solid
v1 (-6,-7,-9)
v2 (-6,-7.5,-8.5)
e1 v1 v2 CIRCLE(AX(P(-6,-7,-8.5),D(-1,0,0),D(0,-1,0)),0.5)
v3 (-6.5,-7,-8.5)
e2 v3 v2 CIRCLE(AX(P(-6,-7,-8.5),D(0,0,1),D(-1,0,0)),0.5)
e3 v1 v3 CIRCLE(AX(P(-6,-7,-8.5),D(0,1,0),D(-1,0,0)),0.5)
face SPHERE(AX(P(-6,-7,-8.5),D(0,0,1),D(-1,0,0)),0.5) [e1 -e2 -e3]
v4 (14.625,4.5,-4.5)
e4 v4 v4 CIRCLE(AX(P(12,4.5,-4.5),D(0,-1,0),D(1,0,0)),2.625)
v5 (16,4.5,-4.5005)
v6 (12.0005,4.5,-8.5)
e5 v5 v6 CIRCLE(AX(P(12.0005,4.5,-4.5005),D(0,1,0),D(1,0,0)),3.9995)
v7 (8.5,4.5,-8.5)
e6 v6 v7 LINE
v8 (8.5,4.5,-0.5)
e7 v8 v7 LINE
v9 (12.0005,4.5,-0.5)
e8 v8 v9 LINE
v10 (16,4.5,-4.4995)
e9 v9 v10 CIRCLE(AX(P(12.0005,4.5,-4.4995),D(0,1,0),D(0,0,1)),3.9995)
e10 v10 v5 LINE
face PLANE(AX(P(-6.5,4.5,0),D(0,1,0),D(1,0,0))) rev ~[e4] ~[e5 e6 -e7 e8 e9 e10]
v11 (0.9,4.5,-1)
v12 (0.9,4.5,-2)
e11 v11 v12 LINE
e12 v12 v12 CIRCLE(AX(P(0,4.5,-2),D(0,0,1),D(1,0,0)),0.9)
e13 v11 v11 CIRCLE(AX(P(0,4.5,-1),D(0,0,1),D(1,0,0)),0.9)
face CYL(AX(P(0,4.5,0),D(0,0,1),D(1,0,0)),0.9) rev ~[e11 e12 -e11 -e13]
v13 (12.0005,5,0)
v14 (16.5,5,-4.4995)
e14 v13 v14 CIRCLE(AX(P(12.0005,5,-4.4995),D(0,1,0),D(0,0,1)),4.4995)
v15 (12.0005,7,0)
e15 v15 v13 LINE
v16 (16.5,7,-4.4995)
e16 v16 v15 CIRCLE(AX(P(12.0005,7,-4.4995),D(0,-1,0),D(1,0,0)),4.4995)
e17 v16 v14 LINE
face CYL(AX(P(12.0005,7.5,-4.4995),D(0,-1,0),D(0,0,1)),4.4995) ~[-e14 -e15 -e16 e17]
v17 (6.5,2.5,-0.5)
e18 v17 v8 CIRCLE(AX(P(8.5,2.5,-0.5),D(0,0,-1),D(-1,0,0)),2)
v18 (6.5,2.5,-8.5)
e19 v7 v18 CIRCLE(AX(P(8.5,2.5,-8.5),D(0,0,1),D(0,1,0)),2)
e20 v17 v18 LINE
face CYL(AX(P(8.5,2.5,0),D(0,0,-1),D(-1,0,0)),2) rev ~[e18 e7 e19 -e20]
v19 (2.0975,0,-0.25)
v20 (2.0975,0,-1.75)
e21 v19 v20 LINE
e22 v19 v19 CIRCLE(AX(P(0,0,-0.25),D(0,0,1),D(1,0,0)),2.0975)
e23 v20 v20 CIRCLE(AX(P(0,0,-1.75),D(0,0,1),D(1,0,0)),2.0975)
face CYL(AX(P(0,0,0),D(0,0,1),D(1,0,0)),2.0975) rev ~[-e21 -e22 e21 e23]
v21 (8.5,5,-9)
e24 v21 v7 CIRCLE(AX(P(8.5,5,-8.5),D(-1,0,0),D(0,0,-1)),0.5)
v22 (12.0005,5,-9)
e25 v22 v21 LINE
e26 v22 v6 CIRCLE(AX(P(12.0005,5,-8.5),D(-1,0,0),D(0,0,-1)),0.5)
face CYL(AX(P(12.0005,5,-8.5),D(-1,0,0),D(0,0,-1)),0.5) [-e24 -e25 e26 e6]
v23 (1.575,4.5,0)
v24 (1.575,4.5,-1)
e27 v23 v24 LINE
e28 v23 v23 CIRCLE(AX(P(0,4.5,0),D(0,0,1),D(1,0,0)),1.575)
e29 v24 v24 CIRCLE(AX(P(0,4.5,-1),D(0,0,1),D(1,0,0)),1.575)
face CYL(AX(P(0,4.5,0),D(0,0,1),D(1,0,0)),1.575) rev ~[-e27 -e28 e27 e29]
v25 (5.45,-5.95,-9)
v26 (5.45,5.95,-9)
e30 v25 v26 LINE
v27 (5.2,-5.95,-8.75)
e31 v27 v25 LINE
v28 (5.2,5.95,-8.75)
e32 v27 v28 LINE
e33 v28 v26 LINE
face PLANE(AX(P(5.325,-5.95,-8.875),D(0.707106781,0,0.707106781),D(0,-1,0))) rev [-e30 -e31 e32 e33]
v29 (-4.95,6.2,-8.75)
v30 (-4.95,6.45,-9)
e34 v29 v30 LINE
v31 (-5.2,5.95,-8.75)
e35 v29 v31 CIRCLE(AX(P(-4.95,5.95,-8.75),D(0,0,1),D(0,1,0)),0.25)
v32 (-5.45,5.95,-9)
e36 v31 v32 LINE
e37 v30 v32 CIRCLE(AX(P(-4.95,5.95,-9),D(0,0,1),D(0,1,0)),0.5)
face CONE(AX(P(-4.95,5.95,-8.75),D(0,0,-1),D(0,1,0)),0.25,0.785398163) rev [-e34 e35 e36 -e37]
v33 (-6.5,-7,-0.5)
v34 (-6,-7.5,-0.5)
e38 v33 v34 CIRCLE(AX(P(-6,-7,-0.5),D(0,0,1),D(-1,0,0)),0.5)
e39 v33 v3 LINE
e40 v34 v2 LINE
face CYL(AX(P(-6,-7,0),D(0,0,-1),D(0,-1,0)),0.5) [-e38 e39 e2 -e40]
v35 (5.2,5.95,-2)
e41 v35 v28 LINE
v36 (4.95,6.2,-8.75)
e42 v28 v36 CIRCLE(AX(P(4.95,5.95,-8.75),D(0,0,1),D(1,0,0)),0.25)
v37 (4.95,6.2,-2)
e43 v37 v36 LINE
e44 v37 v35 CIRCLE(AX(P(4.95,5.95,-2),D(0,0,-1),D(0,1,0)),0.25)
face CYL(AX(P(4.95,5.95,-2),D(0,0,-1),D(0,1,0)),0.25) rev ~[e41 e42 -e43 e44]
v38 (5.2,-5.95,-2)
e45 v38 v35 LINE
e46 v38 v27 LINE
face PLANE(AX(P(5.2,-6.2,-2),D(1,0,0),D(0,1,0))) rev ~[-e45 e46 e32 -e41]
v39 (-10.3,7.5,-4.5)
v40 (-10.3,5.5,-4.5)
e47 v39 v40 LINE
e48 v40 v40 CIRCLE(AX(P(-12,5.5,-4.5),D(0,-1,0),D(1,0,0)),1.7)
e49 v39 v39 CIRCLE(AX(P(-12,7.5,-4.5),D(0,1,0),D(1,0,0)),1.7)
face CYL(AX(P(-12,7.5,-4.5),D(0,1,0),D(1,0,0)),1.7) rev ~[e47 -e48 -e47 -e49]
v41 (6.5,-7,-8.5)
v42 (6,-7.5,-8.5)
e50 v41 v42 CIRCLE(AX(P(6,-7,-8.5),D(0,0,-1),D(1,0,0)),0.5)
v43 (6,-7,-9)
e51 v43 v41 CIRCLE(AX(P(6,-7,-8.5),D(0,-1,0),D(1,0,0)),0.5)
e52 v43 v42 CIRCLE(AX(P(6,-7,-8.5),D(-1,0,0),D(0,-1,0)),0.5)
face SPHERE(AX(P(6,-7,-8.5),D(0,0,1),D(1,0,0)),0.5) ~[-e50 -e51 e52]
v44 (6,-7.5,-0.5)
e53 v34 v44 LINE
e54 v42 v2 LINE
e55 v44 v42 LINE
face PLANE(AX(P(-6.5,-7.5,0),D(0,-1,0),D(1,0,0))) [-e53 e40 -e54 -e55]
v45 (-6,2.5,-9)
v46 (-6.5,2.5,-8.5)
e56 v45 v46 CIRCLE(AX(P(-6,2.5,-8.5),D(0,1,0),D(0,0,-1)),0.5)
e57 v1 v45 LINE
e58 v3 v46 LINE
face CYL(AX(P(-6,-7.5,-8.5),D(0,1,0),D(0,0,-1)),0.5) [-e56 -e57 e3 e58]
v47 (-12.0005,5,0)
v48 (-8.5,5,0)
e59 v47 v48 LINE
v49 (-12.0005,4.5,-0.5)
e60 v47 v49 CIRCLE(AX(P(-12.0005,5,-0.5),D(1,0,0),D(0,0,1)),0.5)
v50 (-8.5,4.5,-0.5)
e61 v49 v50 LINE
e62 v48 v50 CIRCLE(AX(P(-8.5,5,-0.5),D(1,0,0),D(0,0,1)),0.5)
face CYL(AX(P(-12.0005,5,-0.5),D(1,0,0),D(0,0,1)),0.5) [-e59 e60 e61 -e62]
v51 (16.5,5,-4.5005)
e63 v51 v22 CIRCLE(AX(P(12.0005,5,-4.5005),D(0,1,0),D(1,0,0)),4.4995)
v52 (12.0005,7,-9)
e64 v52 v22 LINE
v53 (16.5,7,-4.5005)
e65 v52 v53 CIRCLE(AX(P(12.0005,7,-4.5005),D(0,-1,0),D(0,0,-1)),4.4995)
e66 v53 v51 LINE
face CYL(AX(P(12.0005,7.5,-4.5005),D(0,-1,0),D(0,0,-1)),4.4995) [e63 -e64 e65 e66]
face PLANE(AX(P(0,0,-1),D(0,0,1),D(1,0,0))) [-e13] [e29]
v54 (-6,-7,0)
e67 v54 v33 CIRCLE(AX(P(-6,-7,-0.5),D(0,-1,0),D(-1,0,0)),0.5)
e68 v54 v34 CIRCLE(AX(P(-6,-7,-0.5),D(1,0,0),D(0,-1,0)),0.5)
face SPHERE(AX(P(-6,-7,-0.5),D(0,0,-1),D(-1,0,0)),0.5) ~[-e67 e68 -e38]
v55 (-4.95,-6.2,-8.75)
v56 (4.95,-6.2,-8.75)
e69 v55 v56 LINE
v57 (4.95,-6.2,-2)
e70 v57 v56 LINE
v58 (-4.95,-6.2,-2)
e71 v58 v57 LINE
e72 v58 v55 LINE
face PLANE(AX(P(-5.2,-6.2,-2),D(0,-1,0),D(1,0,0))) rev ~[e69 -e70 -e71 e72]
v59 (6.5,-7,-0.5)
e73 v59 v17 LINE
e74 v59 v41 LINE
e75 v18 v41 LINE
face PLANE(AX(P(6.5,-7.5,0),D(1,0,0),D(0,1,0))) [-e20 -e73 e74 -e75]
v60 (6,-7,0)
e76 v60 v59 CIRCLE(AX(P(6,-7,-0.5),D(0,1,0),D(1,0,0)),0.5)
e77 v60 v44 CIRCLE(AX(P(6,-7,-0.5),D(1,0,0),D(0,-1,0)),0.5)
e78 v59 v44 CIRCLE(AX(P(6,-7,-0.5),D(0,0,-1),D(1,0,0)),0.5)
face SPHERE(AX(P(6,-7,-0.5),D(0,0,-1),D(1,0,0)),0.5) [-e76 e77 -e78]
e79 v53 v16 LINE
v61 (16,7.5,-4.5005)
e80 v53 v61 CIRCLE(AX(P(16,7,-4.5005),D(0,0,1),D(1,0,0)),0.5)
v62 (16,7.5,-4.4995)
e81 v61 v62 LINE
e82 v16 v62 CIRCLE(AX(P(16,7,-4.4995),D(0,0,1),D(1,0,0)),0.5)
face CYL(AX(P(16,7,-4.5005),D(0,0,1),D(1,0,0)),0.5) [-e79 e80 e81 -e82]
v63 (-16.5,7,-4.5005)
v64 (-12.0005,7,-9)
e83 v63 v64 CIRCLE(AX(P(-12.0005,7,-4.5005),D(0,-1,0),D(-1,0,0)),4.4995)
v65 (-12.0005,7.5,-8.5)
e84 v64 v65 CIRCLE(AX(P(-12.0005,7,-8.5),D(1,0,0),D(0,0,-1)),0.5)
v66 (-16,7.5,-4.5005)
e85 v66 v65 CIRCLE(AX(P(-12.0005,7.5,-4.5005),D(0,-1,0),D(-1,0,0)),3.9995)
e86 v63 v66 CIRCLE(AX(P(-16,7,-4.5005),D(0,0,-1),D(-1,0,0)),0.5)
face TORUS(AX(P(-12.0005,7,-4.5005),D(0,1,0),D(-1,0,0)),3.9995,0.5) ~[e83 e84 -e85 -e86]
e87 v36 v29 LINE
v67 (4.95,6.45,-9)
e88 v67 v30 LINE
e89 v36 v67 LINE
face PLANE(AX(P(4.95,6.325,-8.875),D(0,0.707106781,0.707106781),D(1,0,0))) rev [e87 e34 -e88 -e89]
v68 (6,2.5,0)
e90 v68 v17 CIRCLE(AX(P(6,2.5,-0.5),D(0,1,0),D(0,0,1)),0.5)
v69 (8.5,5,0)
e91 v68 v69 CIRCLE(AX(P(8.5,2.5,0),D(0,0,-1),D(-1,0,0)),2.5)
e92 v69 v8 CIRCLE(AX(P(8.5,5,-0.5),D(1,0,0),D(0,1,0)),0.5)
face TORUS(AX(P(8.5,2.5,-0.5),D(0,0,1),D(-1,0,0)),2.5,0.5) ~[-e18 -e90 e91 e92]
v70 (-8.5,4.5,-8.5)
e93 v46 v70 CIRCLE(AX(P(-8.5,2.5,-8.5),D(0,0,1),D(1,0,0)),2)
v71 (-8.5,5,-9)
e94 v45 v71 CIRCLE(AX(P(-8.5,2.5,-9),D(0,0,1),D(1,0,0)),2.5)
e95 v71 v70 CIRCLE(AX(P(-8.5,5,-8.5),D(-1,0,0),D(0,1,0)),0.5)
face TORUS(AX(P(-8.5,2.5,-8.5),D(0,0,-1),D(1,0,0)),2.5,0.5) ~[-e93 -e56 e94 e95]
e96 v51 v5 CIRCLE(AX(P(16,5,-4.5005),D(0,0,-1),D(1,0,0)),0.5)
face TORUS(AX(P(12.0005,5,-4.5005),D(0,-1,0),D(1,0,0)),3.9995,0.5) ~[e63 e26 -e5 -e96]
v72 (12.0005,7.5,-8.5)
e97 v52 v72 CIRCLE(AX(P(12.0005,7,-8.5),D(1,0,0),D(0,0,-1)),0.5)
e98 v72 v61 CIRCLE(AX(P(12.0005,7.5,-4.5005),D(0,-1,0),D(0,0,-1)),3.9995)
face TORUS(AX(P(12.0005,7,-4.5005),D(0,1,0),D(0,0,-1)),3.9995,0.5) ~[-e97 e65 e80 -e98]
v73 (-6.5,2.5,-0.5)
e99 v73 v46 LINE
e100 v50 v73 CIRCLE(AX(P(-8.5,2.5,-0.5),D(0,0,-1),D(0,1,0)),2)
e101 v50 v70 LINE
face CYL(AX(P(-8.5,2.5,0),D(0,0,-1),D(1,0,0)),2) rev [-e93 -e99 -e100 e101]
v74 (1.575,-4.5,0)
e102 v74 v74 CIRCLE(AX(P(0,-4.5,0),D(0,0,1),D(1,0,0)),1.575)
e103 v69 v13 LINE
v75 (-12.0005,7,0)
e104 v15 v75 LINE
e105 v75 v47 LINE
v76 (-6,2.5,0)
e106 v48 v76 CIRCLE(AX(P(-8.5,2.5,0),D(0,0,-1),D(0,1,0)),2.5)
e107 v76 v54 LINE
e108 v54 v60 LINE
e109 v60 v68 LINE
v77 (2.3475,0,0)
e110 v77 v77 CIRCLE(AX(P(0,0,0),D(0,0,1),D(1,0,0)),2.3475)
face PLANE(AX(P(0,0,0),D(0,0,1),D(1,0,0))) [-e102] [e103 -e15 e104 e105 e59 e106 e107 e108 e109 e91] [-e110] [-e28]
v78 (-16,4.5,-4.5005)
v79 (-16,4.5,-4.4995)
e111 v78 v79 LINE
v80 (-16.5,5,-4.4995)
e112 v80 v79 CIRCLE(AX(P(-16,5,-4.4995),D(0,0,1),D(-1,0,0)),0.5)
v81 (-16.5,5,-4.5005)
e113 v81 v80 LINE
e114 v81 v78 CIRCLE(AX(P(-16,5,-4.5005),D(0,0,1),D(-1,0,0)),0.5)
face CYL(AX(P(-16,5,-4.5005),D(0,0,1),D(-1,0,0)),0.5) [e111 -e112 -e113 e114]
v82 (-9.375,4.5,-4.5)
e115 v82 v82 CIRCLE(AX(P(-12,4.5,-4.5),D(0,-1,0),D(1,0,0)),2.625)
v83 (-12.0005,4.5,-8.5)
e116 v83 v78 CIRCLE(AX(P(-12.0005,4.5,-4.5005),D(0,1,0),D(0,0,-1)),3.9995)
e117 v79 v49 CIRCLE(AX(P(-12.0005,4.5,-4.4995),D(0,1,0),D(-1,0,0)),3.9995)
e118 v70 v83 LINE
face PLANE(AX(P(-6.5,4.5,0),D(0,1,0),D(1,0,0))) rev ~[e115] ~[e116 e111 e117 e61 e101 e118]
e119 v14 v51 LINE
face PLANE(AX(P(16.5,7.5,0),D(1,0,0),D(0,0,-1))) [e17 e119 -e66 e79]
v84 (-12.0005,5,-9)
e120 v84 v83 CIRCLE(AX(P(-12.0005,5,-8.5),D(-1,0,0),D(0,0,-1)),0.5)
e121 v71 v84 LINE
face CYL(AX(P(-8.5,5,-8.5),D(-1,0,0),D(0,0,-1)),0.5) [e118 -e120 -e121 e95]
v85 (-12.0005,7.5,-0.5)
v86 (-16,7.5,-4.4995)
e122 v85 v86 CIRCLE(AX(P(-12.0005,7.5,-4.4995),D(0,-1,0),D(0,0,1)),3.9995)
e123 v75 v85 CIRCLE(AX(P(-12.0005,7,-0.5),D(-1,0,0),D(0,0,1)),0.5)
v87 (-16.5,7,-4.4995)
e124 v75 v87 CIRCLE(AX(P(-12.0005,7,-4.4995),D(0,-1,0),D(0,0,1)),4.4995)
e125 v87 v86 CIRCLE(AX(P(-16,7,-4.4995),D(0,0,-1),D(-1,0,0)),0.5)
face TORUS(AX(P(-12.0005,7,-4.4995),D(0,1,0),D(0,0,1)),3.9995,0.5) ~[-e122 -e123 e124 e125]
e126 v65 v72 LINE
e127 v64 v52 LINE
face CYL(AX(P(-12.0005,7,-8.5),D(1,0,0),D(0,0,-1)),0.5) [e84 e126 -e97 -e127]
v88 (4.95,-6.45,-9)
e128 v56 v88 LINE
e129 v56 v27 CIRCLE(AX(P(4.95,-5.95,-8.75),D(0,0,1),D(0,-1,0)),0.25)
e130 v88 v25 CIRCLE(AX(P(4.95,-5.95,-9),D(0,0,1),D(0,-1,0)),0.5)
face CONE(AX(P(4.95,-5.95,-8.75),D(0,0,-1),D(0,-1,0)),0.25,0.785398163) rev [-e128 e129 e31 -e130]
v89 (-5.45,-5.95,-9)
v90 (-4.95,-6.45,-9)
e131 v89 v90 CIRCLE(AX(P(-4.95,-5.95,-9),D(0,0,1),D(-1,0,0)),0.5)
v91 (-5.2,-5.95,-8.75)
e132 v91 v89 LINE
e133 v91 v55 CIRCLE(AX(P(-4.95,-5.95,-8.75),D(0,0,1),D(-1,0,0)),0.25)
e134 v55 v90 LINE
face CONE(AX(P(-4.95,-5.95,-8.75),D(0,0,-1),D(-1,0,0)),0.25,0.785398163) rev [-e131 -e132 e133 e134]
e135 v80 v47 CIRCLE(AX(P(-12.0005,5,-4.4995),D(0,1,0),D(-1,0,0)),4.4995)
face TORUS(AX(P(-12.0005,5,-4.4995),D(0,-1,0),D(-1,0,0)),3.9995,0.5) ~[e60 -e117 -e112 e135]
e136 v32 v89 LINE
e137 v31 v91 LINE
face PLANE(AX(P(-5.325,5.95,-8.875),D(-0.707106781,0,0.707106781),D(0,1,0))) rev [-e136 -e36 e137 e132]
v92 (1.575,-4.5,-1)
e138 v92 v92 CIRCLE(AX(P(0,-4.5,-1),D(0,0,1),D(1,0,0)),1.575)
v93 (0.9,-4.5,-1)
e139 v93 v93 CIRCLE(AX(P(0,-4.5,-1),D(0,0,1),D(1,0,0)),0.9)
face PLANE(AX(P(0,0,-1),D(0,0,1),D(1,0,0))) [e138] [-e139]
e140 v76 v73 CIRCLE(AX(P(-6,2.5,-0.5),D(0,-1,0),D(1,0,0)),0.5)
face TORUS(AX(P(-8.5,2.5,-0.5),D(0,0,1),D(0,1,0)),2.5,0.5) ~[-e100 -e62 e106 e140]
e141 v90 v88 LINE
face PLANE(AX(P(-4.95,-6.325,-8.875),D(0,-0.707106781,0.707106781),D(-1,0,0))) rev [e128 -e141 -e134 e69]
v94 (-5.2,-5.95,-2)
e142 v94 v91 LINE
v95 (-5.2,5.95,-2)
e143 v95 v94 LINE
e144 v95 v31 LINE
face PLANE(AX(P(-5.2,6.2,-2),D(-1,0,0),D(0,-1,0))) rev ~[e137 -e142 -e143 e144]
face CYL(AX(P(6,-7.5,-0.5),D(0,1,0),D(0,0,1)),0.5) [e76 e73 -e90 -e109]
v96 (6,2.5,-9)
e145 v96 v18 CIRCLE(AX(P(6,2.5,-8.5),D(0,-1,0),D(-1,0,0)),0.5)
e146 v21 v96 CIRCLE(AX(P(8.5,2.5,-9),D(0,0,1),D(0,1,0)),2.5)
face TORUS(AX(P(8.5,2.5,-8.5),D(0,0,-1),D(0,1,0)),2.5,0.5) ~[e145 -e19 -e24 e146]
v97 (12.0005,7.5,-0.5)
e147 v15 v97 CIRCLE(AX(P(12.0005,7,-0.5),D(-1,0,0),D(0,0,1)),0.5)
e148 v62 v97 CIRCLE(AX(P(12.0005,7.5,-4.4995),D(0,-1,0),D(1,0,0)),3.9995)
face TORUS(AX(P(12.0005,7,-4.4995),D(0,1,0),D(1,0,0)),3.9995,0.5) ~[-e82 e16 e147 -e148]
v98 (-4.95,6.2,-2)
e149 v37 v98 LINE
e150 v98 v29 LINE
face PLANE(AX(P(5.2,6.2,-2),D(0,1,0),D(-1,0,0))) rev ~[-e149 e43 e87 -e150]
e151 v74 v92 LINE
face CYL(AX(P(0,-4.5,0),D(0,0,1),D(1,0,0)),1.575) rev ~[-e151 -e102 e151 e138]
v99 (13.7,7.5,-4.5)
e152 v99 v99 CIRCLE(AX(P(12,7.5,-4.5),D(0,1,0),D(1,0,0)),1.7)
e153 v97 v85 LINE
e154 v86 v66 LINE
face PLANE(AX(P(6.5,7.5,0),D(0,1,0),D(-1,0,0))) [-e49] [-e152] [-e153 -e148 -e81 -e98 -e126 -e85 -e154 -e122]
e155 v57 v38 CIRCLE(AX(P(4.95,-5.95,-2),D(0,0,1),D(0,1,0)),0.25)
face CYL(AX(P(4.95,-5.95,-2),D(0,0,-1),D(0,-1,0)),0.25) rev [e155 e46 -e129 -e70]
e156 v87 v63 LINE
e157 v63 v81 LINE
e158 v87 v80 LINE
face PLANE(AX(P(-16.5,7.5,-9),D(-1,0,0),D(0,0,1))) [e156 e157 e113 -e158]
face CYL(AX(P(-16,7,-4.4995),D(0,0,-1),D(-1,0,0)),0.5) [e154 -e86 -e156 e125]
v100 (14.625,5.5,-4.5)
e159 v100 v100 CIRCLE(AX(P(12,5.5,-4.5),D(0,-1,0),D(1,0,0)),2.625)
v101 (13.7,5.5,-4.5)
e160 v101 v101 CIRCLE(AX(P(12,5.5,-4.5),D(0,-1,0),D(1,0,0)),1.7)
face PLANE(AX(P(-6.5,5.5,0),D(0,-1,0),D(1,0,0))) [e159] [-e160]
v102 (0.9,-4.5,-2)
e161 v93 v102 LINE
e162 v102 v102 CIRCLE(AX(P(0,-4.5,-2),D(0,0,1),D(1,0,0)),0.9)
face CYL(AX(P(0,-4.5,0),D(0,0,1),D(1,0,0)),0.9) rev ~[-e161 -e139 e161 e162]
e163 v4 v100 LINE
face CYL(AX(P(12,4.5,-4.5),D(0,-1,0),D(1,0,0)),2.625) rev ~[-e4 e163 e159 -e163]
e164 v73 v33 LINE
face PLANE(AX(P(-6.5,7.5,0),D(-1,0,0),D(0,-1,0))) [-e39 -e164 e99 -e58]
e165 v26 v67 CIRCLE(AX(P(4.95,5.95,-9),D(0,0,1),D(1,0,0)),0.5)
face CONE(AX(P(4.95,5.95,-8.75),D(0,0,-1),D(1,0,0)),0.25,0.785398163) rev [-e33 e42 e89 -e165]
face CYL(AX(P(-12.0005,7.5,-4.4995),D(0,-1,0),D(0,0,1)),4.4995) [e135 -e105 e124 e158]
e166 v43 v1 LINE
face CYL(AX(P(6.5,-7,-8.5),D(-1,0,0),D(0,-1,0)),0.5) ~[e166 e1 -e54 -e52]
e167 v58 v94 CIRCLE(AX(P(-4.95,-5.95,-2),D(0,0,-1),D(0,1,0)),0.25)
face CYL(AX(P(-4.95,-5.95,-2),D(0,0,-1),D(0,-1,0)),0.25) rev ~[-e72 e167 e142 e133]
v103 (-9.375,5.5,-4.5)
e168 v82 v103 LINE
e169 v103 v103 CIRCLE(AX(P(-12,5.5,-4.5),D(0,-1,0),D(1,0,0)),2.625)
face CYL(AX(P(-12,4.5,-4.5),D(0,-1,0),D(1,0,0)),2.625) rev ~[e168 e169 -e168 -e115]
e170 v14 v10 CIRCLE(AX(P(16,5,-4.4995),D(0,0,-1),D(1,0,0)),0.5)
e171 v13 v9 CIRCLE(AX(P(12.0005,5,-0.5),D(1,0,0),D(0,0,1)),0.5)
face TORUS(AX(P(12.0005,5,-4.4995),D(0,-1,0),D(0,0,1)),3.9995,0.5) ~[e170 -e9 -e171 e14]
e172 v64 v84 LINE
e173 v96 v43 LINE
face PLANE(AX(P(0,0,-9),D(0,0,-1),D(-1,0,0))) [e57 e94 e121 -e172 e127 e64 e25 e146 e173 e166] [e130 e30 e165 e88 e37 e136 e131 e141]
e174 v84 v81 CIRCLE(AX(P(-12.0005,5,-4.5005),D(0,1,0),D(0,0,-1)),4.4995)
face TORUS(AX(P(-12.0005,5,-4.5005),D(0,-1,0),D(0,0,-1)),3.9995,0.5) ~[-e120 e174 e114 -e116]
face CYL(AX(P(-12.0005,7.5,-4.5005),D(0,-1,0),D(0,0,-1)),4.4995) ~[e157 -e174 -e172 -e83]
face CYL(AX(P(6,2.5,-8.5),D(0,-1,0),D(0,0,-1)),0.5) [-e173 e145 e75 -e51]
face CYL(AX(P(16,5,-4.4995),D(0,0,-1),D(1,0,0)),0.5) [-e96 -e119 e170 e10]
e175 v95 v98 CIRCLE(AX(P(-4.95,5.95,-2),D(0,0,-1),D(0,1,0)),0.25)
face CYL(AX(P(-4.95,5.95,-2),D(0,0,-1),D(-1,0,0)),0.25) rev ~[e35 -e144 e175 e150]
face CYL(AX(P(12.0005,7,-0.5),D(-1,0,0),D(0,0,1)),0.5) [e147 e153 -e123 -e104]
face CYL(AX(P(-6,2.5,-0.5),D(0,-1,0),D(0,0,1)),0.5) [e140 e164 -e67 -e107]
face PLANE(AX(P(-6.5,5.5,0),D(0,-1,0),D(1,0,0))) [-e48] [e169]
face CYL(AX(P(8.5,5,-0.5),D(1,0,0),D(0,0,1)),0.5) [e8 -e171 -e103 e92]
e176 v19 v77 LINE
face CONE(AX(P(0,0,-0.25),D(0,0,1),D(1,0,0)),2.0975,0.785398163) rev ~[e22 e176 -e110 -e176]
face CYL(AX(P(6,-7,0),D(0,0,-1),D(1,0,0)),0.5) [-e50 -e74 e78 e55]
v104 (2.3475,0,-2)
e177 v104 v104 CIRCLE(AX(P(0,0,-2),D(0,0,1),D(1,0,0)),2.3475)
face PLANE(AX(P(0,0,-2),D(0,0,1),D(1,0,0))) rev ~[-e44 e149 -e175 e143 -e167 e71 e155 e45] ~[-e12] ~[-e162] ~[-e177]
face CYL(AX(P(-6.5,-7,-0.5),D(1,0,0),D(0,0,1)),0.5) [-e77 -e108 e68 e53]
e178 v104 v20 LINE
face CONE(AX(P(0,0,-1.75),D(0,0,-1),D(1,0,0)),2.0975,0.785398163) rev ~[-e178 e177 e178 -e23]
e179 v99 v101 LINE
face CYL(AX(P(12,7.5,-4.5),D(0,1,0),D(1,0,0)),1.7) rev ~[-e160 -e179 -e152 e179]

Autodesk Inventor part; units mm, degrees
ref_plane "YZ Plane" through (0, 0, 0) normal (1, 0, 0) x (0, 1, 0)
ref_plane "XZ Plane" through (0, 0, 0) normal (0, 1, 0) x (-1, 0, 0)
ref_plane "XY Plane" through (0, 0, 0) normal (0, 0, 1) x (1, 0, 0)
sketch "Sketch1" plane through (0, 0, 0) normal (0, 1, 0) x (-1, 0, 0)
  point P0 (0, 0)
sketch "Sketch2" plane through (0, 0, 0) normal (0, 0, 1) x (1, 0, 0)
  circle A0 centre (0, -4.5) radius 0.9
  circle A1 centre (0, 4.5) radius 0.9
  circle A2 centre (0, 0) radius 2.0975
  line L0 (6.5, 7.5) -> (-6.5, 7.5)
  line L1 (-6.5, 7.5) -> (-6.5, -7.5)
  line L2 (-6.5, -7.5) -> (6.5, -7.5)
  line L3 (6.5, -7.5) -> (6.5, 7.5)
  dimension "d0" = 1.8
  dimension "d1" = 9
  dimension "d2" = 4.195
  dimension "d3" = 4.5
  dimension "d4" = 13
  dimension "d5" = 15
  dimension "d6" = 7.5
  dimension "d7" = 6.5
extrude "Extrusion1" add sketch "Sketch2" against normal blind 2
sketch "Sketch3" plane through (0, 0, -2) normal (0, 0, -1) x (-1, 0, 0)
  line L0 (6.5, 7.5) -> (-6.5, 7.5) projected
  line L1 (-6.5, 7.5) -> (-6.5, -7.5) projected
  line L2 (6.5, -7.5) -> (6.5, 7.5) projected
  line L3 (-6.5, -7.5) -> (6.5, -7.5) projected
  line L4 (-5.2, 6.2) -> (5.2, 6.2)
  line L5 (5.2, 6.2) -> (5.2, -6.2)
  line L6 (5.2, -6.2) -> (-5.2, -6.2)
  line L7 (-5.2, -6.2) -> (-5.2, 6.2)
  point P0 (0, 0)
  dimension "d10" = 1.3
  dimension "d11" = 1.3
  dimension "d12" = 1.3
  dimension "d13" = 1.3
extrude "Extrusion2" add sketch "Sketch3" along normal blind 7
sketch "Sketch4" plane through (-6.5, 7.5, 0) normal (0, 1, 0) x (1, 0, 0)
  line L0 (13, 9) -> (0, 9) projected
  line L1 (0, 9) -> (-10, 9)
  line L2 (-10, 9) -> (-10, 0)
  line L3 (0, 0) -> (13, 0) projected
  line L4 (-10, 0) -> (0, 0)
  line L5 (13, 0) -> (23, 0)
  line L6 (23, 0) -> (23, 9)
  line L7 (23, 9) -> (13, 9)
  line L8 (0, 0) -> (0, 9) projected
  line L9 (13, 0) -> (13, 9) projected
  circle A0 centre (-5.5, 4.5) radius 1.7
  circle A1 centre (18.5, 4.5) radius 1.7
  point P0 (6.5, 0)
  point P1 (-10, 4.5)
  point P2 (-5, 0)
  point P3 (18, 0)
  dimension "d16" = 3.4
  dimension "d17" = 10
  dimension "d22" = 4.5
  dimension "d23" = 4.5
extrude "Extrusion3" add sketch "Sketch4" against normal blind 3 contours L7 L6 L5 L9 | L8 L4 L2 L1
fillet "Fillet1" radius 2 2 edges at (-6.5, 4.5, -4.5) (6.5, 4.5, -4.5)
fillet "Fillet2" radius 4.5 4 edges at (-16.5, 6, 0) (-16.5, 6, -9) (16.5, 6, 0) (16.5, 6, -9)
sketch "Sketch5" plane through (-6.5, 4.5, 0) normal (0, -1, 0) x (1, 0, 0)
  circle A0 centre (18.5, -4.5) radius 1.7 projected
  circle A1 centre (-5.5, -4.5) radius 1.7 projected
  circle A2 centre (18.5, -4.5) radius 2.625
  circle A3 centre (-5.5, -4.5) radius 2.625
  point P0 (6.5, 0)
  dimension "d24" = 5.25
extrude "Extrusion4" cut sketch "Sketch5" against normal blind 1
fillet "Fillet3" radius 0.5 18 edges at (-6.5, -7.5, -4.5) (6.5, -7.5, -4.5) (-10.2502, 4.5, 0) (-15.1821, 4.5, -1.3179) (-16.5, 4.5, -4.5) (-10.2503, 4.5, -9) (-6.5, -2.5, -9) (-6.5, -2.5, 0) (10.2502, 4.5, 0) (15.1821, 4.5, -1.3179) (16.5, 4.5, -4.5) (10.2502, 4.5, -9) (6.5, -2.5, -9) (6.5, -2.5, 0) (0, -7.5, 0) (0, -7.5, -9) (0, 7.5, 0) (0, 7.5, -9)
fillet "Fillet4" radius 0.25 4 edges at (5.2, -6.2, -5.5) (-5.2, -6.2, -5.5) (5.2, 6.2, -5.5) (-5.2, 6.2, -5.5)
chamfer "Chamfer1" distance 0.25 angle 45 10 edges at (-2.0975, 0, -2) (-2.0975, 0, 0) (0, -6.2, -9) (5.1268, -6.1268, -9) (5.2, 0, -9) (5.1268, 6.1268, -9) (0, 6.2, -9) (-5.1268, 6.1268, -9) (-5.2, 0, -9) (-5.1268, -6.1268, -9)
sketch "Sketch6" plane through (0, 0, 0) normal (0, 0, 1) x (1, 0, 0)
  circle A0 centre (0, 4.5) radius 0.9 projected
  circle A1 centre (0, 4.5) radius 1.575
  circle A2 centre (0, -4.5) radius 0.9 projected
  circle A3 centre (0, -4.5) radius 1.575
  point P0 (0, 0)
  dimension "d32" = 3.15
extrude "Extrusion5" cut sketch "Sketch6" against normal blind 1
sketch "Sketch7" plane through (0, 4.5, -1) normal (0, 0, 1) x (1, 0, 0)
  circle A0 centre (0, 0) radius 0.9 projected
  circle A1 centre (0, -9) radius 0.9 projected
  point P0 (0, -4.5)
extrude "Extrusion6" [suppressed]
properties part number "v2motormount"
